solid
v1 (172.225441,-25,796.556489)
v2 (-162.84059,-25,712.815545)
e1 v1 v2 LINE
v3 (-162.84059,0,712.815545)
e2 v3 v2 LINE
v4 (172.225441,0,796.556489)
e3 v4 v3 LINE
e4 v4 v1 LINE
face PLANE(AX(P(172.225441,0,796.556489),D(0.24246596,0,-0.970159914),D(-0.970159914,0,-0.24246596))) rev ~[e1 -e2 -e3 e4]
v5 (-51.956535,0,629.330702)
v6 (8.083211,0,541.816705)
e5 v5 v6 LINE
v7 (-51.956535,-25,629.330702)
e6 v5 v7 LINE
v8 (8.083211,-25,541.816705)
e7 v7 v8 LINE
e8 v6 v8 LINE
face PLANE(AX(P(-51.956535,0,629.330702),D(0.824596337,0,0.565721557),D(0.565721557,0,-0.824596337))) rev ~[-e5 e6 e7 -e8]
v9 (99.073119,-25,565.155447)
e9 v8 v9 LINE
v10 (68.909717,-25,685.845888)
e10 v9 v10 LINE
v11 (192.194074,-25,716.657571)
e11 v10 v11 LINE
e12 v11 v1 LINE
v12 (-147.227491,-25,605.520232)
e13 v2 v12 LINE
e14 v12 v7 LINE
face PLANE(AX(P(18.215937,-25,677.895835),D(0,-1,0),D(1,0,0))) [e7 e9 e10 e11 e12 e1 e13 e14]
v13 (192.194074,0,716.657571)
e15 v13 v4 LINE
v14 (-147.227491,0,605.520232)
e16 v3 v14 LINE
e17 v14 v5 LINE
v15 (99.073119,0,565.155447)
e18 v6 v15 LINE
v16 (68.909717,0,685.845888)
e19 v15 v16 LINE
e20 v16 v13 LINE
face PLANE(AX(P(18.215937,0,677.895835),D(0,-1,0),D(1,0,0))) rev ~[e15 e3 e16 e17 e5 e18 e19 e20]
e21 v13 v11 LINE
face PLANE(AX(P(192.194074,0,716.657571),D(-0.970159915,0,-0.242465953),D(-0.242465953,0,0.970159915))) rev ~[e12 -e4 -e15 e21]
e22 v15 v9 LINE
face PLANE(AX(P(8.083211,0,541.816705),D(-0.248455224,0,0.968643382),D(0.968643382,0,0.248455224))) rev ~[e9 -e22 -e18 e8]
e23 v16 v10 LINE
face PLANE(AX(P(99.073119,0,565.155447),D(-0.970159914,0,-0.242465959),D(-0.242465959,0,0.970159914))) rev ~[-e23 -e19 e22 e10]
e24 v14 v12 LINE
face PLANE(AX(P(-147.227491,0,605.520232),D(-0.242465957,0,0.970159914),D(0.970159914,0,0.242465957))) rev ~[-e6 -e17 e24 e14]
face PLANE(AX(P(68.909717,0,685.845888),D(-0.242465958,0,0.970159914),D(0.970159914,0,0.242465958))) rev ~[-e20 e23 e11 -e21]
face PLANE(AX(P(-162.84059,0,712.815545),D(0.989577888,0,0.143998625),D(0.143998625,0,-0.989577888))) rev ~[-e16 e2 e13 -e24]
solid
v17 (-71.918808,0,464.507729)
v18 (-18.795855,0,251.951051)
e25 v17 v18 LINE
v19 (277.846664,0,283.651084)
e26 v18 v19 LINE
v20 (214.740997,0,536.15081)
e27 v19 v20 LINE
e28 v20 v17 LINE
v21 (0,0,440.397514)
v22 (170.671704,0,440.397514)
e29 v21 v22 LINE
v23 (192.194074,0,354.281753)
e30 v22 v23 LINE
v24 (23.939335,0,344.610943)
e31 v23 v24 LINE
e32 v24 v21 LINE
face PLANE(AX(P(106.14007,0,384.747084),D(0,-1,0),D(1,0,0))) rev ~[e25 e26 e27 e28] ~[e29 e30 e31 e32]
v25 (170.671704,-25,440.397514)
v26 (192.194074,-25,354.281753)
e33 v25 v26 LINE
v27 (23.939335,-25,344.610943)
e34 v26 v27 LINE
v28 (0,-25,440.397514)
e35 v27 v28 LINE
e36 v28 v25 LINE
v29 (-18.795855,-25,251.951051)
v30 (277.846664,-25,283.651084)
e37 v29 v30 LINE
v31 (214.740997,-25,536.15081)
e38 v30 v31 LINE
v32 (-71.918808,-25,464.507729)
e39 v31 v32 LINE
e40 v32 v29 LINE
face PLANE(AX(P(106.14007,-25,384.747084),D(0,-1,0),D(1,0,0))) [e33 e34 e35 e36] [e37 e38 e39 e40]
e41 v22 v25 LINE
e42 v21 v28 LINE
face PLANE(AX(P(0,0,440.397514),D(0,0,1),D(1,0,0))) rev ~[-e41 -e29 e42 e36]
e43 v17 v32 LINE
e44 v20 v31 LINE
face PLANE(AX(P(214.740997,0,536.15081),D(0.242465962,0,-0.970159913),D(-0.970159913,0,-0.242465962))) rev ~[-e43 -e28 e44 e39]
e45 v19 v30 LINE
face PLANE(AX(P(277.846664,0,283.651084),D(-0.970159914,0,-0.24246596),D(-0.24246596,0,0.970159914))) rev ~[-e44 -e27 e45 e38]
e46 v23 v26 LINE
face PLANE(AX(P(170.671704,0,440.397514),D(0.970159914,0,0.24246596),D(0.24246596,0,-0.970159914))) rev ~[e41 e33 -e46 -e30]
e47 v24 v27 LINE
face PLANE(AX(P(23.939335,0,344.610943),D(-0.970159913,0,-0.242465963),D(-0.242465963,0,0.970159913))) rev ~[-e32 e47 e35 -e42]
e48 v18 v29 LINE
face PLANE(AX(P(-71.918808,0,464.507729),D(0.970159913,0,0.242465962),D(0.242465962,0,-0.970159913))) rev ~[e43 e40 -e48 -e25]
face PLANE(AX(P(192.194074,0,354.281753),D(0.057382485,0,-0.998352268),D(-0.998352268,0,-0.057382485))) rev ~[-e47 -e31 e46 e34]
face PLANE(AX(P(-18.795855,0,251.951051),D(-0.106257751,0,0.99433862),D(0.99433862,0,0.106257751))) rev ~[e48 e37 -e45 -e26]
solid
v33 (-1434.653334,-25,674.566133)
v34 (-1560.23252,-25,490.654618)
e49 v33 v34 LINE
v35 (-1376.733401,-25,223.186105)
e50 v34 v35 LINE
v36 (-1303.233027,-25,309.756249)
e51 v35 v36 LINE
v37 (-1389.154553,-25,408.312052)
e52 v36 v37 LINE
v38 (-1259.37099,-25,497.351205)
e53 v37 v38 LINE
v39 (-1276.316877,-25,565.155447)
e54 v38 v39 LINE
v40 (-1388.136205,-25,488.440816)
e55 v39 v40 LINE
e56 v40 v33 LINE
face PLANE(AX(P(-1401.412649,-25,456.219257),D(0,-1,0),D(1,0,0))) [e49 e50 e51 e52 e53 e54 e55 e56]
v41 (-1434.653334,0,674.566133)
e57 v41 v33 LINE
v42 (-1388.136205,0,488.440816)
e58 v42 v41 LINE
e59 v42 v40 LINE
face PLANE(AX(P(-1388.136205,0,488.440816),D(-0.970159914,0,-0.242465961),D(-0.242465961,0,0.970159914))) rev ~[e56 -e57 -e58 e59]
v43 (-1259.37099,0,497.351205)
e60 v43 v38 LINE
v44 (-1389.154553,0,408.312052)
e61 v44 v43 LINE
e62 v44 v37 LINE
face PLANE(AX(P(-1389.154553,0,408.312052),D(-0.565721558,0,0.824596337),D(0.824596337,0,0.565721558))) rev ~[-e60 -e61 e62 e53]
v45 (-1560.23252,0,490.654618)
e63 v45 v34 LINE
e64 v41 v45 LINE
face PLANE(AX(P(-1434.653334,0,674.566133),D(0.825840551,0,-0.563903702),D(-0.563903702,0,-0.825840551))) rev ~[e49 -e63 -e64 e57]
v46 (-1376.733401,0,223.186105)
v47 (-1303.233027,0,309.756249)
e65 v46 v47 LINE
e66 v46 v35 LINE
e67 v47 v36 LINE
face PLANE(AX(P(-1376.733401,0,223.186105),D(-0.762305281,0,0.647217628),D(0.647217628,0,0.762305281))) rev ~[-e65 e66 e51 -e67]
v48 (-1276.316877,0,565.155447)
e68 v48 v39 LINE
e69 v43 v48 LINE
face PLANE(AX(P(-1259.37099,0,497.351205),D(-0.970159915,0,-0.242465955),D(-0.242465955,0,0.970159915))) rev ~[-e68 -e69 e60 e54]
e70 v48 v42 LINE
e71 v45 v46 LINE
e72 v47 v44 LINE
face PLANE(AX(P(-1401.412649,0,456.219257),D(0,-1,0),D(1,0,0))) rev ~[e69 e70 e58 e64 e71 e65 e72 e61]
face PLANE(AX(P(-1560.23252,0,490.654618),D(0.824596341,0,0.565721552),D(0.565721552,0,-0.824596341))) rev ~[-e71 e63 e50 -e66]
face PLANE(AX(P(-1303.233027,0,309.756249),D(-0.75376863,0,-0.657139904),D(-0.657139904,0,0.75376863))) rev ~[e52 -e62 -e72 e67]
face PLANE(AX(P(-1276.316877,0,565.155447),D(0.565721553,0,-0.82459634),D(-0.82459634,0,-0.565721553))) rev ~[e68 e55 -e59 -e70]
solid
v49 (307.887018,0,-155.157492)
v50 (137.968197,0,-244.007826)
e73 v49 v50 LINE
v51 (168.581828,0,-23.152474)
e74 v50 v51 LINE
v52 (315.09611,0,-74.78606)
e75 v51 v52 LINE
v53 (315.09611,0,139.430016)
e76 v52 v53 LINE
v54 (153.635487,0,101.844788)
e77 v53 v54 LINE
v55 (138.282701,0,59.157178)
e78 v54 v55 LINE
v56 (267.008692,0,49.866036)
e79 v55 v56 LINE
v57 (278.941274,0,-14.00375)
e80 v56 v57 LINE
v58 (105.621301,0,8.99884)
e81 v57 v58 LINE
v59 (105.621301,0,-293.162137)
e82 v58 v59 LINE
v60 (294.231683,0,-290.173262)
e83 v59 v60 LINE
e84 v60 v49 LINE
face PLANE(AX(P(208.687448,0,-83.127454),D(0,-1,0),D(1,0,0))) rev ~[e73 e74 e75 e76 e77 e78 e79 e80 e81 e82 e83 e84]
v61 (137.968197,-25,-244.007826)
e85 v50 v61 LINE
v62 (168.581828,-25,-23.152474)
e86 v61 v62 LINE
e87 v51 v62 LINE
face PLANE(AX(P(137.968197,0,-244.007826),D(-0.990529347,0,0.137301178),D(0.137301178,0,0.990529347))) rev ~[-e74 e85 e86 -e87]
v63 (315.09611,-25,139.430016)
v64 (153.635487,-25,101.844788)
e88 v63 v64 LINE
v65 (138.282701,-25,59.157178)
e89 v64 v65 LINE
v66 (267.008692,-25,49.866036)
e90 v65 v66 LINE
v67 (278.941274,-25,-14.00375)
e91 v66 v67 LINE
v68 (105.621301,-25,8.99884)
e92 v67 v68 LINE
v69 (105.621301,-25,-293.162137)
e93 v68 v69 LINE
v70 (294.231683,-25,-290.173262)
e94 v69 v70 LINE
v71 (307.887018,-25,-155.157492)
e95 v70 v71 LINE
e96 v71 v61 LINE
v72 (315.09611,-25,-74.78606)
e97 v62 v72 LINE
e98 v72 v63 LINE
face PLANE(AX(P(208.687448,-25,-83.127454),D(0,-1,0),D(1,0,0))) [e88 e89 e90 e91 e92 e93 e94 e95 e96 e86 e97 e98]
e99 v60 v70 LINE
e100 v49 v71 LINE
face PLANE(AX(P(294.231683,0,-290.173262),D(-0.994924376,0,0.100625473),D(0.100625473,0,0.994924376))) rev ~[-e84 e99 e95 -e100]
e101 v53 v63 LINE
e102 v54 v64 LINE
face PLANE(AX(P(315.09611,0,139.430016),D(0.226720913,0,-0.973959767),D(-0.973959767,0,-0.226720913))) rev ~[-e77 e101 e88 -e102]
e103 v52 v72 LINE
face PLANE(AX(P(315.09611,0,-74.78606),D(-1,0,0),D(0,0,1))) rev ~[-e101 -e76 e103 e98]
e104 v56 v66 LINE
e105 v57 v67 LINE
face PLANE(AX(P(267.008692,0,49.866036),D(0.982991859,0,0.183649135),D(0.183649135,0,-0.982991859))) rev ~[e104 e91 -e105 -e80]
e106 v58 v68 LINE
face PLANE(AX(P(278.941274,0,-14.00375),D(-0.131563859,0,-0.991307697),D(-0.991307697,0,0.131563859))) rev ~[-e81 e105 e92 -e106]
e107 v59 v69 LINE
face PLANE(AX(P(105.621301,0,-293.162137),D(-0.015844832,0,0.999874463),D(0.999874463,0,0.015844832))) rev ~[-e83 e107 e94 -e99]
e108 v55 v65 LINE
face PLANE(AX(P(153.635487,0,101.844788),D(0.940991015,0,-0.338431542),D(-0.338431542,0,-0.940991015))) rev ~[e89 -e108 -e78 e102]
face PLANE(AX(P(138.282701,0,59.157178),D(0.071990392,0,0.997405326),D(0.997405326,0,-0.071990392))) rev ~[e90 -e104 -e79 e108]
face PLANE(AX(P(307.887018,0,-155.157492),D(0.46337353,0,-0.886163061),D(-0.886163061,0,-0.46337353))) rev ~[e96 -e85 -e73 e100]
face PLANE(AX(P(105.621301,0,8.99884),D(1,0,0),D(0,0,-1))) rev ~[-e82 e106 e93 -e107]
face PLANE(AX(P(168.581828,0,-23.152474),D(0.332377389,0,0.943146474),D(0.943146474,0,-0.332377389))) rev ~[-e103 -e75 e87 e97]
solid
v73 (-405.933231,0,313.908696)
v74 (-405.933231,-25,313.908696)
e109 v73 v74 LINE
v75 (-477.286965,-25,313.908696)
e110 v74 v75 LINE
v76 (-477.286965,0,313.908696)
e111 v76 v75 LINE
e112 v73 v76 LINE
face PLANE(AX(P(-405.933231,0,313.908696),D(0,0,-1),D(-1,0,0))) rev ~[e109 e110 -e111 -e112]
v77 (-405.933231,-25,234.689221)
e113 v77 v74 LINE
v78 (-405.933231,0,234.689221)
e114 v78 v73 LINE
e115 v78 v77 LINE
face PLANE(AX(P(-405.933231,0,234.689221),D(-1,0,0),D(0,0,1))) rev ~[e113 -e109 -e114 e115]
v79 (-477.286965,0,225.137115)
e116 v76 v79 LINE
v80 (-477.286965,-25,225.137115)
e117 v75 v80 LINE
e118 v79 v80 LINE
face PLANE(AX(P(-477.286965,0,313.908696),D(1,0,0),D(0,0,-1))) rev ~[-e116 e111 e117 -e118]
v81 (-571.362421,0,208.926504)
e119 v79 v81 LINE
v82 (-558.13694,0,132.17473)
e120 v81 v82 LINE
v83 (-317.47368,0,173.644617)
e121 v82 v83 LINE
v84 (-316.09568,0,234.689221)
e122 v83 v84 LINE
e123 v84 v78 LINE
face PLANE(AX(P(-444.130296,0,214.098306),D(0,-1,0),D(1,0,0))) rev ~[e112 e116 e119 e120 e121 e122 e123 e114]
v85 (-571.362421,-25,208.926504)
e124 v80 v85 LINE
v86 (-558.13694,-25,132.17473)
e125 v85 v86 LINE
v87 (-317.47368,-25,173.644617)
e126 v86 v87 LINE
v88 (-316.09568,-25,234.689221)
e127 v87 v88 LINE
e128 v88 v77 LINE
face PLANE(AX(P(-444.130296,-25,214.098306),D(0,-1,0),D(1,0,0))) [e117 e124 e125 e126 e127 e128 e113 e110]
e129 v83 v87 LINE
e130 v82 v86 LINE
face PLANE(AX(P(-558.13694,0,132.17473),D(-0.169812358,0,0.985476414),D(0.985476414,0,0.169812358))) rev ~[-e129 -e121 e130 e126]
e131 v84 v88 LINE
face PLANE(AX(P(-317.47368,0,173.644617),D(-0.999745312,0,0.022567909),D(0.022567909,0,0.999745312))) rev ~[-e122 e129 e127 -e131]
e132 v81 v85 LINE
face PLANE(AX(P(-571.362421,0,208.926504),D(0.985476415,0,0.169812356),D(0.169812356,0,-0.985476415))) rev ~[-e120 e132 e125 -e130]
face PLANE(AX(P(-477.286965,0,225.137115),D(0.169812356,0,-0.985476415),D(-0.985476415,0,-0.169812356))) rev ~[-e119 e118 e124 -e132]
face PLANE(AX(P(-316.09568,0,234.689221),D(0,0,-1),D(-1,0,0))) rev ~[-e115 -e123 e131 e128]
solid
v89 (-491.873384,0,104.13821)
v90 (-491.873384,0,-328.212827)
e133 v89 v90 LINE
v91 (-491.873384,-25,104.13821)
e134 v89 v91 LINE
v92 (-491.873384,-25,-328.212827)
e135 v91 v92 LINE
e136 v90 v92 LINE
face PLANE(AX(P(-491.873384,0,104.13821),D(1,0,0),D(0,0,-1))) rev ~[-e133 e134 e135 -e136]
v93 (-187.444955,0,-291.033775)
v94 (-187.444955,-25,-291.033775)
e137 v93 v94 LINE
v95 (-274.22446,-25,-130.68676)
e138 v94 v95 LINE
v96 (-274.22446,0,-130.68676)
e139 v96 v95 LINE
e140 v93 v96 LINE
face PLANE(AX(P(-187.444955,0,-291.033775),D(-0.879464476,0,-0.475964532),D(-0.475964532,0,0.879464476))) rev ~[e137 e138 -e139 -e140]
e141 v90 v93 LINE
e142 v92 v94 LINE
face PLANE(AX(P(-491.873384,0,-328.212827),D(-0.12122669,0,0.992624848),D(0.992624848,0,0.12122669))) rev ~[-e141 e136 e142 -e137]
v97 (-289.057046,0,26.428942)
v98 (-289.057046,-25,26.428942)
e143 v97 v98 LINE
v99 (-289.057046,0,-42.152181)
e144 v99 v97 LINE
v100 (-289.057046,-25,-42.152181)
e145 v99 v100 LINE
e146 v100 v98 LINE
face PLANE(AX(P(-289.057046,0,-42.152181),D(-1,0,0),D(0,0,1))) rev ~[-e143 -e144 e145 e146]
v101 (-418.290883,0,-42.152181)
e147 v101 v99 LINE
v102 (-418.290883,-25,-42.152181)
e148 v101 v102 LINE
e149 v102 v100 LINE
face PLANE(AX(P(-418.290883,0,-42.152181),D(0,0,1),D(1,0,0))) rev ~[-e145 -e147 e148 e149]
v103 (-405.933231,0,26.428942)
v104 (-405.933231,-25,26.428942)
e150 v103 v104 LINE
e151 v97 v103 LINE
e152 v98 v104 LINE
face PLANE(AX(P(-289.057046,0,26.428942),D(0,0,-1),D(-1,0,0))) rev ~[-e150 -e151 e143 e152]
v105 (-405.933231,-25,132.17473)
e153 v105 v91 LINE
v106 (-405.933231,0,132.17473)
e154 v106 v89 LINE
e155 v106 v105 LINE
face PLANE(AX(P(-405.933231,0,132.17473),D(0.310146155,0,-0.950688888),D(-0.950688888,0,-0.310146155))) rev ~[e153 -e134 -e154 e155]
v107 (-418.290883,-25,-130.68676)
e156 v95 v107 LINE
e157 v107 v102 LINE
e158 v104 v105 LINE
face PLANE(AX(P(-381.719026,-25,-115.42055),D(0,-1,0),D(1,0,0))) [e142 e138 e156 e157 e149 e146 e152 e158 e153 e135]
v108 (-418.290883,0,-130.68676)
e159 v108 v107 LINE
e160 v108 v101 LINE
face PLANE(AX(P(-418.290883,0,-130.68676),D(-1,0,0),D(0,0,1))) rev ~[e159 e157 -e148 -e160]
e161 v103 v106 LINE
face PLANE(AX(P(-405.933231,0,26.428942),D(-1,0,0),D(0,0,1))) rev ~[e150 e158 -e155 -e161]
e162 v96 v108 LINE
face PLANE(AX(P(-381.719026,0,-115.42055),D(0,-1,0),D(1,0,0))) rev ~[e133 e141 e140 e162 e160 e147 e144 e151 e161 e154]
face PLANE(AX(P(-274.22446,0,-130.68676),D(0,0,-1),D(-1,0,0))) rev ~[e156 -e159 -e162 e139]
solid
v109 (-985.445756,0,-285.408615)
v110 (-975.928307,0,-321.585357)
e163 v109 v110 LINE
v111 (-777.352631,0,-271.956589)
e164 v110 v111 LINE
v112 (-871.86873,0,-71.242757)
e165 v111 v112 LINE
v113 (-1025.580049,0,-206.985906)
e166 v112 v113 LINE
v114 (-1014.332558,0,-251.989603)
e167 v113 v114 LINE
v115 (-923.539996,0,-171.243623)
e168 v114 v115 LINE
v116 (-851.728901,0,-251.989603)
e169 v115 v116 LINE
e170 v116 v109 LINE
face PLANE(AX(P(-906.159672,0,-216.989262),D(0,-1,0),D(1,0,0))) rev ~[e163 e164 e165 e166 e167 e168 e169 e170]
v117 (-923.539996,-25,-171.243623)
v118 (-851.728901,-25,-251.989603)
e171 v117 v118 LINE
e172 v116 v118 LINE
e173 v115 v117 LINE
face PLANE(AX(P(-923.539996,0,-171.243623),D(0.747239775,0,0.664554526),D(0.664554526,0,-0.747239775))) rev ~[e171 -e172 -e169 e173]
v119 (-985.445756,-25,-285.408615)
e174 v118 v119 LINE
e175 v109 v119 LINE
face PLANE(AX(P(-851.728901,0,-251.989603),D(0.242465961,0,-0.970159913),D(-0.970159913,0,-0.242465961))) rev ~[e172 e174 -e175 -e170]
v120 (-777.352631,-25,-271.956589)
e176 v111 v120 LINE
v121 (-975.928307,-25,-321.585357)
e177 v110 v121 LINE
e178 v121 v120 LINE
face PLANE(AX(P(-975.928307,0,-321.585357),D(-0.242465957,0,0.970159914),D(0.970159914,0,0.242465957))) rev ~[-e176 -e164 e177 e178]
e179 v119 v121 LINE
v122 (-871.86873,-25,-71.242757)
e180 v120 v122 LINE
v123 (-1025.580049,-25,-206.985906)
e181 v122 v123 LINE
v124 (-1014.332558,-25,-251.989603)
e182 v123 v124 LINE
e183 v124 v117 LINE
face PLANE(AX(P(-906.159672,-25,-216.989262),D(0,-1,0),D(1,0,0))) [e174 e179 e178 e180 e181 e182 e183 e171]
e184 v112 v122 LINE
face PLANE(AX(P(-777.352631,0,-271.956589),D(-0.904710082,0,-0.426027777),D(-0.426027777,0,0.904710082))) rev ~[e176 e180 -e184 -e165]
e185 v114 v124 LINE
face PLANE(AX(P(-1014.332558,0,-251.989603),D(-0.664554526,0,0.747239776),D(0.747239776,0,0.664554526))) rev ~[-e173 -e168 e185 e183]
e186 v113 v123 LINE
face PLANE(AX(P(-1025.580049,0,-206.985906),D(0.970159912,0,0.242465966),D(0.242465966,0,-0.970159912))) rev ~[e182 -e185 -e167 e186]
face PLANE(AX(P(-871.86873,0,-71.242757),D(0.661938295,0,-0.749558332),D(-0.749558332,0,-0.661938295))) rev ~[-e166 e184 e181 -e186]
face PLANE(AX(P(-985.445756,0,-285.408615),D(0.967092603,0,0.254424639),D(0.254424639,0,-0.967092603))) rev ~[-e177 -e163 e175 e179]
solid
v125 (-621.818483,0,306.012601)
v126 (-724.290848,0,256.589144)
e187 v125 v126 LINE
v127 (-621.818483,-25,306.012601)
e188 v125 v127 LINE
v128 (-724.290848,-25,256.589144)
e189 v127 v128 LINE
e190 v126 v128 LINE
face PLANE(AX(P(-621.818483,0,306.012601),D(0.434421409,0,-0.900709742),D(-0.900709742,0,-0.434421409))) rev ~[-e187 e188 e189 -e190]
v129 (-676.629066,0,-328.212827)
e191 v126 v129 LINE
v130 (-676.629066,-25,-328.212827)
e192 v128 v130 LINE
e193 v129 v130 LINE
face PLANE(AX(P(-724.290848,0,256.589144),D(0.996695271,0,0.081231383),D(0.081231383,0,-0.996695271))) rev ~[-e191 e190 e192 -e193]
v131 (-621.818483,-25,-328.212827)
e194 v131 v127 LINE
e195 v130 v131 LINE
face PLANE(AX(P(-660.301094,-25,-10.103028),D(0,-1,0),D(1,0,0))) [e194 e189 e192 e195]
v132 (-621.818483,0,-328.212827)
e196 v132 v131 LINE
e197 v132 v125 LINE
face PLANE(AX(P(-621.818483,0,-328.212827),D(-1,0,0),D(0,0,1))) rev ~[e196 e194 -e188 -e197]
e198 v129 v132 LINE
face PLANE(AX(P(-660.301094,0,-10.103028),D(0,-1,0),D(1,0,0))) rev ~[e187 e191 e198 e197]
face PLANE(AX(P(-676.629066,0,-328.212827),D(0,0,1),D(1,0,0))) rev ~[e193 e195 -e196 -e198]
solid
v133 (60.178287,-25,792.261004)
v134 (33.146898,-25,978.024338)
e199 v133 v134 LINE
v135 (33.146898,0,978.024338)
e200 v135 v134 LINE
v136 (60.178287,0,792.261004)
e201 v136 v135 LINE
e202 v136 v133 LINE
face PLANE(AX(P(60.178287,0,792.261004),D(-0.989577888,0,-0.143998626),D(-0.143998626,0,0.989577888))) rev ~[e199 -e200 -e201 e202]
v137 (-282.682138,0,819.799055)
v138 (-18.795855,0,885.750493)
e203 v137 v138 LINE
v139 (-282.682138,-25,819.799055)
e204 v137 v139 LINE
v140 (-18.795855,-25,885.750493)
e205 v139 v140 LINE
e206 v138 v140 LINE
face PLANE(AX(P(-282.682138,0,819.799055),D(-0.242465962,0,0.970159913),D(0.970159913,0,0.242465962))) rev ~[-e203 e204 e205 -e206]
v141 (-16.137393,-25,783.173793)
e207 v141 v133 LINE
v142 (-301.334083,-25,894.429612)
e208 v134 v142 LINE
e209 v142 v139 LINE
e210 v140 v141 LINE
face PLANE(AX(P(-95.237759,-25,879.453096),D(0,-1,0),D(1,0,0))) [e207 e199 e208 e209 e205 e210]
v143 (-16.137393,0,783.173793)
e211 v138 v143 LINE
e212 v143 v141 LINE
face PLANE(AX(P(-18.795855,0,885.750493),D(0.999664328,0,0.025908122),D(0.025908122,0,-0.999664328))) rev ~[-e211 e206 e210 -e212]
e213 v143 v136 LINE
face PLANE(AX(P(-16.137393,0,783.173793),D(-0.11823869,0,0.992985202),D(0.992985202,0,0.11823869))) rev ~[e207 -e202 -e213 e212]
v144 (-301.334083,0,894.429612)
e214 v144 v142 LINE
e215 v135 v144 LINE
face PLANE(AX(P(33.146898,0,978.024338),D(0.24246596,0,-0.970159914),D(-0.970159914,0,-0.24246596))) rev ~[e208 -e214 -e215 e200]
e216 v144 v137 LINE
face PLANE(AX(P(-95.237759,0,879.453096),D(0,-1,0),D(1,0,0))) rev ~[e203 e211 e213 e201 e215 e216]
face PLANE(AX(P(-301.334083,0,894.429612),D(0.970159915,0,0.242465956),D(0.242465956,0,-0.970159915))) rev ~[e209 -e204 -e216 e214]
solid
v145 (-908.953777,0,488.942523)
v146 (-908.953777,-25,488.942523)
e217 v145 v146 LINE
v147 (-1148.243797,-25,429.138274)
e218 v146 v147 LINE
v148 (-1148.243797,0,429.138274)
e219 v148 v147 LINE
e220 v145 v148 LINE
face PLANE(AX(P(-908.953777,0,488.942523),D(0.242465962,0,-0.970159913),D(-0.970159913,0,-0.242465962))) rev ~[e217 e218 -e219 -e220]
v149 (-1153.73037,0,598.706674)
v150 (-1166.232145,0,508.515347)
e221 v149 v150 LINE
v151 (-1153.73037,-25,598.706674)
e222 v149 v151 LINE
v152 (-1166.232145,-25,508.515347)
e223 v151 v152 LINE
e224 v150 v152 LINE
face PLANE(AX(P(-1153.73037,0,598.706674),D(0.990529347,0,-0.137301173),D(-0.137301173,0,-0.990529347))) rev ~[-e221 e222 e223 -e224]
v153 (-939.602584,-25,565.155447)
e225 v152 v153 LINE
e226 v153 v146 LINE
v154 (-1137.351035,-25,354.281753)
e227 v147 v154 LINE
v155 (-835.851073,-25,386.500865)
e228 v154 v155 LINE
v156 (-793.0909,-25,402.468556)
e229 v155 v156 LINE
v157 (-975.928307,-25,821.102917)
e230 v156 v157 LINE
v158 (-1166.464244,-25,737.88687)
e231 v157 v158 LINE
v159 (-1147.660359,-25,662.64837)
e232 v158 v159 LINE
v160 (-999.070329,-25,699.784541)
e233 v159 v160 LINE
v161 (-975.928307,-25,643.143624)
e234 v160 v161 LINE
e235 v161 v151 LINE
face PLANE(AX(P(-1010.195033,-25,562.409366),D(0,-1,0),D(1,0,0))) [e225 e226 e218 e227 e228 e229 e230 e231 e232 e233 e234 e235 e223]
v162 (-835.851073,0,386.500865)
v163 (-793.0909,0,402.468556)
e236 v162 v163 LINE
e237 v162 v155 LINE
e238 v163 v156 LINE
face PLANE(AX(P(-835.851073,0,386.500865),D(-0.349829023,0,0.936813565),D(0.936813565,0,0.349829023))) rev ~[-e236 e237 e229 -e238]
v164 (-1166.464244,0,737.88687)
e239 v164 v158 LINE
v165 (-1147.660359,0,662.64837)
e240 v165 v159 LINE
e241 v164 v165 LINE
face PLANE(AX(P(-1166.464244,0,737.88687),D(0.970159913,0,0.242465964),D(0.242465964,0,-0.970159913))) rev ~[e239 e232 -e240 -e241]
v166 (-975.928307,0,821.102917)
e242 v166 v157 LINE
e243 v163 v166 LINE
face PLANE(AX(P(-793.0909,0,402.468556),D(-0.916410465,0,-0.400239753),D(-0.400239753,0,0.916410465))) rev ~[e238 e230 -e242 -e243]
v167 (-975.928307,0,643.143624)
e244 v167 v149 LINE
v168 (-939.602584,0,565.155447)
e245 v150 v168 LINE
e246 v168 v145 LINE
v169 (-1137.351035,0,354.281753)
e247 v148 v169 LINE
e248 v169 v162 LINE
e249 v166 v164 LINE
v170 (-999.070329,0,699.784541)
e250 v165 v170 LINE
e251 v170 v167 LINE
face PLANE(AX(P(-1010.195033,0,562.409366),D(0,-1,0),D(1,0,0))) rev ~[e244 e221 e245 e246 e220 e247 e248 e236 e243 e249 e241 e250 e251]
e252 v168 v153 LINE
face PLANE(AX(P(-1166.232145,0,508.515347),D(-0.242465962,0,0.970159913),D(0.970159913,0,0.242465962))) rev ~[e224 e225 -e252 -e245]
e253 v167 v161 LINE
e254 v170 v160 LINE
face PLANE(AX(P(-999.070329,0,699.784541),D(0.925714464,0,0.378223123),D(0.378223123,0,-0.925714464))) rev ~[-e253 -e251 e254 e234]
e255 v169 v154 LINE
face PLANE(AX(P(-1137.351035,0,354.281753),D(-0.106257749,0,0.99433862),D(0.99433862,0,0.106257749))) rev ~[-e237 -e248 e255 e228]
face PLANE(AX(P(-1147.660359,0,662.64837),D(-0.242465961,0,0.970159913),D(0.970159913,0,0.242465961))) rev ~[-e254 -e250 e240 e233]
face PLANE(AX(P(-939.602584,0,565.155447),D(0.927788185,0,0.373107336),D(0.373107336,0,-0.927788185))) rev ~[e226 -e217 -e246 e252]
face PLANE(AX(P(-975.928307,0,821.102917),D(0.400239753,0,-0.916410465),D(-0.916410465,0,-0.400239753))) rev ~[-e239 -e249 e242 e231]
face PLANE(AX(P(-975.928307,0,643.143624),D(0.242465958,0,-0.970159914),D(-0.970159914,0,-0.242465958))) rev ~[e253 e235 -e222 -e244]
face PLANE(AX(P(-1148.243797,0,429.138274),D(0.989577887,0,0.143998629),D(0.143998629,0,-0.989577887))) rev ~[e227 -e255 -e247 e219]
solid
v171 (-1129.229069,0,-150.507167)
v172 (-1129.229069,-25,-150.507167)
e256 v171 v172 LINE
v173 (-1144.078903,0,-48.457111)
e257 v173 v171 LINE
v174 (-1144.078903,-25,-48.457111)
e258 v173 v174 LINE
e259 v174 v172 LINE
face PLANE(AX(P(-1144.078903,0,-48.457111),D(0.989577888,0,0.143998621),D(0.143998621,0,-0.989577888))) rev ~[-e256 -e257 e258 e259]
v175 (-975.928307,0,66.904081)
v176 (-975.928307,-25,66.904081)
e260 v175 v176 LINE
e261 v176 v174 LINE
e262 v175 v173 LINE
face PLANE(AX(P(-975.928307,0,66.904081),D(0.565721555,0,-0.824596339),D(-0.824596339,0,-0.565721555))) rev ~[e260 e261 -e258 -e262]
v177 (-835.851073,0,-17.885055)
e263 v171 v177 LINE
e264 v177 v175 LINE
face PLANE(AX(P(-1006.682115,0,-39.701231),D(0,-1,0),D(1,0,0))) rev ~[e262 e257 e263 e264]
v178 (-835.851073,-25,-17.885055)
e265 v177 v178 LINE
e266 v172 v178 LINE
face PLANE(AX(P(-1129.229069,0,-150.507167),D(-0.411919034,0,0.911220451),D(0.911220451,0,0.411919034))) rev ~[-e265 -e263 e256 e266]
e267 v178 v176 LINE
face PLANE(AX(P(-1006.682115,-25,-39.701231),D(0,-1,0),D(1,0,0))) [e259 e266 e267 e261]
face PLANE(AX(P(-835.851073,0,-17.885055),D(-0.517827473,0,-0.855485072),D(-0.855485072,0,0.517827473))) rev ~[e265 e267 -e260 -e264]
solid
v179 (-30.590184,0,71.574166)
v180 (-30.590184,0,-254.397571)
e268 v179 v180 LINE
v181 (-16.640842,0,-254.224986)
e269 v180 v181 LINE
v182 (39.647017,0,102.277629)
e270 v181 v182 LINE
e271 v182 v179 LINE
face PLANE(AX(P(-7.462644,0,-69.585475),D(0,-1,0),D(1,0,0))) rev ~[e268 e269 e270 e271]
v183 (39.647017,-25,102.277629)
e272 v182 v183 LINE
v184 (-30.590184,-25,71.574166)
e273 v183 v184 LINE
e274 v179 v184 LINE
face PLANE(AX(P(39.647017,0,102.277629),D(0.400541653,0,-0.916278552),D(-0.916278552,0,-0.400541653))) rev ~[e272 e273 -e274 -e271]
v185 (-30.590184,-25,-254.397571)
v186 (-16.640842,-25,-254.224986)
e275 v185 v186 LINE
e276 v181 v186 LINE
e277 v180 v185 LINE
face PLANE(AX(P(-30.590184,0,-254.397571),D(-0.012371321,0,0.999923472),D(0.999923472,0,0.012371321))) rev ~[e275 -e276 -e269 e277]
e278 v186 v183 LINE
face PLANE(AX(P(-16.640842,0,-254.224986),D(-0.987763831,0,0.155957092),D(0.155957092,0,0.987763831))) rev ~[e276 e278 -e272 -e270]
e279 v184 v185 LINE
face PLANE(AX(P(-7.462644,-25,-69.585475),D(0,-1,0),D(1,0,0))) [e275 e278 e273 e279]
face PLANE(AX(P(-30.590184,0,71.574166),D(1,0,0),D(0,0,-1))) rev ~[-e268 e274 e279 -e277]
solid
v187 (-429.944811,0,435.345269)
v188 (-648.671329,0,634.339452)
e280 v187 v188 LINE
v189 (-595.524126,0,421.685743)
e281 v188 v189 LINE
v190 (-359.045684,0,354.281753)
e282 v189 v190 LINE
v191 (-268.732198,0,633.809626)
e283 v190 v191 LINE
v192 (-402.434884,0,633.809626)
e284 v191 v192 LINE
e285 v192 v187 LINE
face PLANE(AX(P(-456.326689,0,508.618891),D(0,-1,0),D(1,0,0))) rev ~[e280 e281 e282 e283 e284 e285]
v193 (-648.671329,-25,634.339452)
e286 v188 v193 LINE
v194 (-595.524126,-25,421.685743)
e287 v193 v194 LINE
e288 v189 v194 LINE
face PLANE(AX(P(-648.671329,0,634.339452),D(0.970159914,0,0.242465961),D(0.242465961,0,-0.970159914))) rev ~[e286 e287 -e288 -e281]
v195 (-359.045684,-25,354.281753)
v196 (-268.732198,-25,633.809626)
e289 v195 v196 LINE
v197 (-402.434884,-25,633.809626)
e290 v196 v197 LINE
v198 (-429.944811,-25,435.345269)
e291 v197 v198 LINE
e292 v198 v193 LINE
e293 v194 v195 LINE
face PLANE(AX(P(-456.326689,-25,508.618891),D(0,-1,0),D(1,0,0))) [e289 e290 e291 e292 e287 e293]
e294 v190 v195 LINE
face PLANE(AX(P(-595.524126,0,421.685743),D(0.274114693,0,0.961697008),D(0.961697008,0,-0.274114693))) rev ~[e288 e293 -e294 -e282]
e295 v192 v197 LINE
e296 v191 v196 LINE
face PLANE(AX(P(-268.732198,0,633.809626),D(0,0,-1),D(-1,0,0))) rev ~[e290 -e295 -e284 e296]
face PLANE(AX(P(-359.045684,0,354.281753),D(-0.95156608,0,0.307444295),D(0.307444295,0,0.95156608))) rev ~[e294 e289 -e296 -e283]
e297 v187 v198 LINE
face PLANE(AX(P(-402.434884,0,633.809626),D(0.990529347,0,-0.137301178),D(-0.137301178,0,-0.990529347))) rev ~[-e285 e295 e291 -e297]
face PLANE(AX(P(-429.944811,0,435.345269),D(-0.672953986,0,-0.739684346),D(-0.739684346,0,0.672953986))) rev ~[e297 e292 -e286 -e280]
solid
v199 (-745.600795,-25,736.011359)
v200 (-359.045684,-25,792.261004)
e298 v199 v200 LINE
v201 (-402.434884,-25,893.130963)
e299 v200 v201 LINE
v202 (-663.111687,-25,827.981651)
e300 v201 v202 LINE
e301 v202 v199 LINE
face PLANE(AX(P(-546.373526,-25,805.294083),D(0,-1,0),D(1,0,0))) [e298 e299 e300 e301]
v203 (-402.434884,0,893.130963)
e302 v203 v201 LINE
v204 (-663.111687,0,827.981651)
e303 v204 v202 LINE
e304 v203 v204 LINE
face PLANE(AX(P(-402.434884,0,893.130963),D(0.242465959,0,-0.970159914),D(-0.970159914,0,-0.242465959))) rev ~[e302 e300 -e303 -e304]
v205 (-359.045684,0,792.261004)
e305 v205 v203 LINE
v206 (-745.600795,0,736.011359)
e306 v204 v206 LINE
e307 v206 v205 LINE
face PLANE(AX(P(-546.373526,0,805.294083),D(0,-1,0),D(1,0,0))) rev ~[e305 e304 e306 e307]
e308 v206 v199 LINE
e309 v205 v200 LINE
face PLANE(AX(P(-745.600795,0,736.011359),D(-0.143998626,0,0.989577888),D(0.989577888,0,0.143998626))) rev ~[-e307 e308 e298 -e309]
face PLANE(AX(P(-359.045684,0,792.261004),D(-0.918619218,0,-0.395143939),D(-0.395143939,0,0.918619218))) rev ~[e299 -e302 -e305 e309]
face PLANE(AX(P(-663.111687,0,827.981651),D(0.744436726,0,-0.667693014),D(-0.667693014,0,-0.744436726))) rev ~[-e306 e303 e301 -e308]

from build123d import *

# Parameters (mm, degrees)
F1_DEPTH = 25


with BuildPart() as f1:
    # F0 (on Front) → F1 (new body)
    with BuildSketch(Plane.XZ):
        Polygon((105.621301, -293.162137), (294.231683, -290.173262), (307.887018, -155.157492), (137.968197, -244.007826), (168.581828, -23.152474), (315.09611, -74.78606), (315.09611, 139.430016), (153.635487, 101.844788), (138.282701, 59.157178), (267.008692, 49.866036), (278.941274, -14.00375), (105.621301, 8.99884), align=None)
        Polygon((-30.590184, -254.397571), (-16.640842, -254.224986), (39.647017, 102.277629), (-30.590184, 71.574166), align=None)
        Polygon((-985.445756, -285.408615), (-975.928307, -321.585357), (-777.352631, -271.956589), (-871.86873, -71.242757), (-1025.580049, -206.985906), (-1014.332558, -251.989603), (-923.539996, -171.243623), (-851.728901, -251.989603), align=None)
        Polygon((-1129.229069, -150.507167), (-835.851073, -17.885055), (-975.928307, 66.904081), (-1144.078903, -48.457111), align=None)
        Polygon((-18.795855, 251.951051), (277.846664, 283.651084), (214.740997, 536.15081), (-71.918808, 464.507729), align=None)
        Polygon((170.671704, 440.397514), (192.194074, 354.281753), (23.939335, 344.610943), (0, 440.397514), align=None, mode=Mode.SUBTRACT)
        Polygon((8.083211, 541.816705), (99.073119, 565.155447), (68.909717, 685.845888), (192.194074, 716.657571), (172.225441, 796.556489), (-162.84059, 712.815545), (-147.227491, 605.520232), (-51.956535, 629.330702), align=None)
        Polygon((-16.137393, 783.173793), (60.178287, 792.261004), (33.146898, 978.024338), (-301.334083, 894.429612), (-282.682138, 819.799055), (-18.795855, 885.750493), align=None)
        Polygon((-595.524126, 421.685743), (-359.045684, 354.281753), (-268.732198, 633.809626), (-402.434884, 633.809626), (-429.944811, 435.345269), (-648.671329, 634.339452), align=None)
        Polygon((-745.600795, 736.011359), (-359.045684, 792.261004), (-402.434884, 893.130963), (-663.111687, 827.981651), align=None)
        Polygon((-1137.351035, 354.281753), (-835.851073, 386.500865), (-793.0909, 402.468556), (-975.928307, 821.102917), (-1166.464244, 737.88687), (-1147.660359, 662.64837), (-999.070329, 699.784541), (-975.928307, 643.143624), (-1153.73037, 598.706674), (-1166.232145, 508.515347), (-939.602584, 565.155447), (-908.953777, 488.942523), (-1148.243797, 429.138274), align=None)
        Polygon((-1303.233027, 309.756249), (-1389.154553, 408.312052), (-1259.37099, 497.351205), (-1276.316877, 565.155447), (-1388.136205, 488.440816), (-1434.653334, 674.566133), (-1560.23252, 490.654618), (-1376.733401, 223.186105), align=None)
        Polygon((-491.873384, -328.212827), (-187.444955, -291.033775), (-274.22446, -130.68676), (-418.290883, -130.68676), (-418.290883, -42.152181), (-289.057046, -42.152181), (-289.057046, 26.428942), (-405.933231, 26.428942), (-405.933231, 132.17473), (-491.873384, 104.13821), align=None)
        Polygon((-558.13694, 132.17473), (-317.47368, 173.644617), (-316.09568, 234.689221), (-405.933231, 234.689221), (-405.933231, 313.908696), (-477.286965, 313.908696), (-477.286965, 225.137115), (-571.362421, 208.926504), align=None)
        Polygon((-676.629066, -328.212827), (-621.818483, -328.212827), (-621.818483, 306.012601), (-724.290848, 256.589144), align=None)
    extrude(amount=F1_DEPTH)


solid = f1.part
